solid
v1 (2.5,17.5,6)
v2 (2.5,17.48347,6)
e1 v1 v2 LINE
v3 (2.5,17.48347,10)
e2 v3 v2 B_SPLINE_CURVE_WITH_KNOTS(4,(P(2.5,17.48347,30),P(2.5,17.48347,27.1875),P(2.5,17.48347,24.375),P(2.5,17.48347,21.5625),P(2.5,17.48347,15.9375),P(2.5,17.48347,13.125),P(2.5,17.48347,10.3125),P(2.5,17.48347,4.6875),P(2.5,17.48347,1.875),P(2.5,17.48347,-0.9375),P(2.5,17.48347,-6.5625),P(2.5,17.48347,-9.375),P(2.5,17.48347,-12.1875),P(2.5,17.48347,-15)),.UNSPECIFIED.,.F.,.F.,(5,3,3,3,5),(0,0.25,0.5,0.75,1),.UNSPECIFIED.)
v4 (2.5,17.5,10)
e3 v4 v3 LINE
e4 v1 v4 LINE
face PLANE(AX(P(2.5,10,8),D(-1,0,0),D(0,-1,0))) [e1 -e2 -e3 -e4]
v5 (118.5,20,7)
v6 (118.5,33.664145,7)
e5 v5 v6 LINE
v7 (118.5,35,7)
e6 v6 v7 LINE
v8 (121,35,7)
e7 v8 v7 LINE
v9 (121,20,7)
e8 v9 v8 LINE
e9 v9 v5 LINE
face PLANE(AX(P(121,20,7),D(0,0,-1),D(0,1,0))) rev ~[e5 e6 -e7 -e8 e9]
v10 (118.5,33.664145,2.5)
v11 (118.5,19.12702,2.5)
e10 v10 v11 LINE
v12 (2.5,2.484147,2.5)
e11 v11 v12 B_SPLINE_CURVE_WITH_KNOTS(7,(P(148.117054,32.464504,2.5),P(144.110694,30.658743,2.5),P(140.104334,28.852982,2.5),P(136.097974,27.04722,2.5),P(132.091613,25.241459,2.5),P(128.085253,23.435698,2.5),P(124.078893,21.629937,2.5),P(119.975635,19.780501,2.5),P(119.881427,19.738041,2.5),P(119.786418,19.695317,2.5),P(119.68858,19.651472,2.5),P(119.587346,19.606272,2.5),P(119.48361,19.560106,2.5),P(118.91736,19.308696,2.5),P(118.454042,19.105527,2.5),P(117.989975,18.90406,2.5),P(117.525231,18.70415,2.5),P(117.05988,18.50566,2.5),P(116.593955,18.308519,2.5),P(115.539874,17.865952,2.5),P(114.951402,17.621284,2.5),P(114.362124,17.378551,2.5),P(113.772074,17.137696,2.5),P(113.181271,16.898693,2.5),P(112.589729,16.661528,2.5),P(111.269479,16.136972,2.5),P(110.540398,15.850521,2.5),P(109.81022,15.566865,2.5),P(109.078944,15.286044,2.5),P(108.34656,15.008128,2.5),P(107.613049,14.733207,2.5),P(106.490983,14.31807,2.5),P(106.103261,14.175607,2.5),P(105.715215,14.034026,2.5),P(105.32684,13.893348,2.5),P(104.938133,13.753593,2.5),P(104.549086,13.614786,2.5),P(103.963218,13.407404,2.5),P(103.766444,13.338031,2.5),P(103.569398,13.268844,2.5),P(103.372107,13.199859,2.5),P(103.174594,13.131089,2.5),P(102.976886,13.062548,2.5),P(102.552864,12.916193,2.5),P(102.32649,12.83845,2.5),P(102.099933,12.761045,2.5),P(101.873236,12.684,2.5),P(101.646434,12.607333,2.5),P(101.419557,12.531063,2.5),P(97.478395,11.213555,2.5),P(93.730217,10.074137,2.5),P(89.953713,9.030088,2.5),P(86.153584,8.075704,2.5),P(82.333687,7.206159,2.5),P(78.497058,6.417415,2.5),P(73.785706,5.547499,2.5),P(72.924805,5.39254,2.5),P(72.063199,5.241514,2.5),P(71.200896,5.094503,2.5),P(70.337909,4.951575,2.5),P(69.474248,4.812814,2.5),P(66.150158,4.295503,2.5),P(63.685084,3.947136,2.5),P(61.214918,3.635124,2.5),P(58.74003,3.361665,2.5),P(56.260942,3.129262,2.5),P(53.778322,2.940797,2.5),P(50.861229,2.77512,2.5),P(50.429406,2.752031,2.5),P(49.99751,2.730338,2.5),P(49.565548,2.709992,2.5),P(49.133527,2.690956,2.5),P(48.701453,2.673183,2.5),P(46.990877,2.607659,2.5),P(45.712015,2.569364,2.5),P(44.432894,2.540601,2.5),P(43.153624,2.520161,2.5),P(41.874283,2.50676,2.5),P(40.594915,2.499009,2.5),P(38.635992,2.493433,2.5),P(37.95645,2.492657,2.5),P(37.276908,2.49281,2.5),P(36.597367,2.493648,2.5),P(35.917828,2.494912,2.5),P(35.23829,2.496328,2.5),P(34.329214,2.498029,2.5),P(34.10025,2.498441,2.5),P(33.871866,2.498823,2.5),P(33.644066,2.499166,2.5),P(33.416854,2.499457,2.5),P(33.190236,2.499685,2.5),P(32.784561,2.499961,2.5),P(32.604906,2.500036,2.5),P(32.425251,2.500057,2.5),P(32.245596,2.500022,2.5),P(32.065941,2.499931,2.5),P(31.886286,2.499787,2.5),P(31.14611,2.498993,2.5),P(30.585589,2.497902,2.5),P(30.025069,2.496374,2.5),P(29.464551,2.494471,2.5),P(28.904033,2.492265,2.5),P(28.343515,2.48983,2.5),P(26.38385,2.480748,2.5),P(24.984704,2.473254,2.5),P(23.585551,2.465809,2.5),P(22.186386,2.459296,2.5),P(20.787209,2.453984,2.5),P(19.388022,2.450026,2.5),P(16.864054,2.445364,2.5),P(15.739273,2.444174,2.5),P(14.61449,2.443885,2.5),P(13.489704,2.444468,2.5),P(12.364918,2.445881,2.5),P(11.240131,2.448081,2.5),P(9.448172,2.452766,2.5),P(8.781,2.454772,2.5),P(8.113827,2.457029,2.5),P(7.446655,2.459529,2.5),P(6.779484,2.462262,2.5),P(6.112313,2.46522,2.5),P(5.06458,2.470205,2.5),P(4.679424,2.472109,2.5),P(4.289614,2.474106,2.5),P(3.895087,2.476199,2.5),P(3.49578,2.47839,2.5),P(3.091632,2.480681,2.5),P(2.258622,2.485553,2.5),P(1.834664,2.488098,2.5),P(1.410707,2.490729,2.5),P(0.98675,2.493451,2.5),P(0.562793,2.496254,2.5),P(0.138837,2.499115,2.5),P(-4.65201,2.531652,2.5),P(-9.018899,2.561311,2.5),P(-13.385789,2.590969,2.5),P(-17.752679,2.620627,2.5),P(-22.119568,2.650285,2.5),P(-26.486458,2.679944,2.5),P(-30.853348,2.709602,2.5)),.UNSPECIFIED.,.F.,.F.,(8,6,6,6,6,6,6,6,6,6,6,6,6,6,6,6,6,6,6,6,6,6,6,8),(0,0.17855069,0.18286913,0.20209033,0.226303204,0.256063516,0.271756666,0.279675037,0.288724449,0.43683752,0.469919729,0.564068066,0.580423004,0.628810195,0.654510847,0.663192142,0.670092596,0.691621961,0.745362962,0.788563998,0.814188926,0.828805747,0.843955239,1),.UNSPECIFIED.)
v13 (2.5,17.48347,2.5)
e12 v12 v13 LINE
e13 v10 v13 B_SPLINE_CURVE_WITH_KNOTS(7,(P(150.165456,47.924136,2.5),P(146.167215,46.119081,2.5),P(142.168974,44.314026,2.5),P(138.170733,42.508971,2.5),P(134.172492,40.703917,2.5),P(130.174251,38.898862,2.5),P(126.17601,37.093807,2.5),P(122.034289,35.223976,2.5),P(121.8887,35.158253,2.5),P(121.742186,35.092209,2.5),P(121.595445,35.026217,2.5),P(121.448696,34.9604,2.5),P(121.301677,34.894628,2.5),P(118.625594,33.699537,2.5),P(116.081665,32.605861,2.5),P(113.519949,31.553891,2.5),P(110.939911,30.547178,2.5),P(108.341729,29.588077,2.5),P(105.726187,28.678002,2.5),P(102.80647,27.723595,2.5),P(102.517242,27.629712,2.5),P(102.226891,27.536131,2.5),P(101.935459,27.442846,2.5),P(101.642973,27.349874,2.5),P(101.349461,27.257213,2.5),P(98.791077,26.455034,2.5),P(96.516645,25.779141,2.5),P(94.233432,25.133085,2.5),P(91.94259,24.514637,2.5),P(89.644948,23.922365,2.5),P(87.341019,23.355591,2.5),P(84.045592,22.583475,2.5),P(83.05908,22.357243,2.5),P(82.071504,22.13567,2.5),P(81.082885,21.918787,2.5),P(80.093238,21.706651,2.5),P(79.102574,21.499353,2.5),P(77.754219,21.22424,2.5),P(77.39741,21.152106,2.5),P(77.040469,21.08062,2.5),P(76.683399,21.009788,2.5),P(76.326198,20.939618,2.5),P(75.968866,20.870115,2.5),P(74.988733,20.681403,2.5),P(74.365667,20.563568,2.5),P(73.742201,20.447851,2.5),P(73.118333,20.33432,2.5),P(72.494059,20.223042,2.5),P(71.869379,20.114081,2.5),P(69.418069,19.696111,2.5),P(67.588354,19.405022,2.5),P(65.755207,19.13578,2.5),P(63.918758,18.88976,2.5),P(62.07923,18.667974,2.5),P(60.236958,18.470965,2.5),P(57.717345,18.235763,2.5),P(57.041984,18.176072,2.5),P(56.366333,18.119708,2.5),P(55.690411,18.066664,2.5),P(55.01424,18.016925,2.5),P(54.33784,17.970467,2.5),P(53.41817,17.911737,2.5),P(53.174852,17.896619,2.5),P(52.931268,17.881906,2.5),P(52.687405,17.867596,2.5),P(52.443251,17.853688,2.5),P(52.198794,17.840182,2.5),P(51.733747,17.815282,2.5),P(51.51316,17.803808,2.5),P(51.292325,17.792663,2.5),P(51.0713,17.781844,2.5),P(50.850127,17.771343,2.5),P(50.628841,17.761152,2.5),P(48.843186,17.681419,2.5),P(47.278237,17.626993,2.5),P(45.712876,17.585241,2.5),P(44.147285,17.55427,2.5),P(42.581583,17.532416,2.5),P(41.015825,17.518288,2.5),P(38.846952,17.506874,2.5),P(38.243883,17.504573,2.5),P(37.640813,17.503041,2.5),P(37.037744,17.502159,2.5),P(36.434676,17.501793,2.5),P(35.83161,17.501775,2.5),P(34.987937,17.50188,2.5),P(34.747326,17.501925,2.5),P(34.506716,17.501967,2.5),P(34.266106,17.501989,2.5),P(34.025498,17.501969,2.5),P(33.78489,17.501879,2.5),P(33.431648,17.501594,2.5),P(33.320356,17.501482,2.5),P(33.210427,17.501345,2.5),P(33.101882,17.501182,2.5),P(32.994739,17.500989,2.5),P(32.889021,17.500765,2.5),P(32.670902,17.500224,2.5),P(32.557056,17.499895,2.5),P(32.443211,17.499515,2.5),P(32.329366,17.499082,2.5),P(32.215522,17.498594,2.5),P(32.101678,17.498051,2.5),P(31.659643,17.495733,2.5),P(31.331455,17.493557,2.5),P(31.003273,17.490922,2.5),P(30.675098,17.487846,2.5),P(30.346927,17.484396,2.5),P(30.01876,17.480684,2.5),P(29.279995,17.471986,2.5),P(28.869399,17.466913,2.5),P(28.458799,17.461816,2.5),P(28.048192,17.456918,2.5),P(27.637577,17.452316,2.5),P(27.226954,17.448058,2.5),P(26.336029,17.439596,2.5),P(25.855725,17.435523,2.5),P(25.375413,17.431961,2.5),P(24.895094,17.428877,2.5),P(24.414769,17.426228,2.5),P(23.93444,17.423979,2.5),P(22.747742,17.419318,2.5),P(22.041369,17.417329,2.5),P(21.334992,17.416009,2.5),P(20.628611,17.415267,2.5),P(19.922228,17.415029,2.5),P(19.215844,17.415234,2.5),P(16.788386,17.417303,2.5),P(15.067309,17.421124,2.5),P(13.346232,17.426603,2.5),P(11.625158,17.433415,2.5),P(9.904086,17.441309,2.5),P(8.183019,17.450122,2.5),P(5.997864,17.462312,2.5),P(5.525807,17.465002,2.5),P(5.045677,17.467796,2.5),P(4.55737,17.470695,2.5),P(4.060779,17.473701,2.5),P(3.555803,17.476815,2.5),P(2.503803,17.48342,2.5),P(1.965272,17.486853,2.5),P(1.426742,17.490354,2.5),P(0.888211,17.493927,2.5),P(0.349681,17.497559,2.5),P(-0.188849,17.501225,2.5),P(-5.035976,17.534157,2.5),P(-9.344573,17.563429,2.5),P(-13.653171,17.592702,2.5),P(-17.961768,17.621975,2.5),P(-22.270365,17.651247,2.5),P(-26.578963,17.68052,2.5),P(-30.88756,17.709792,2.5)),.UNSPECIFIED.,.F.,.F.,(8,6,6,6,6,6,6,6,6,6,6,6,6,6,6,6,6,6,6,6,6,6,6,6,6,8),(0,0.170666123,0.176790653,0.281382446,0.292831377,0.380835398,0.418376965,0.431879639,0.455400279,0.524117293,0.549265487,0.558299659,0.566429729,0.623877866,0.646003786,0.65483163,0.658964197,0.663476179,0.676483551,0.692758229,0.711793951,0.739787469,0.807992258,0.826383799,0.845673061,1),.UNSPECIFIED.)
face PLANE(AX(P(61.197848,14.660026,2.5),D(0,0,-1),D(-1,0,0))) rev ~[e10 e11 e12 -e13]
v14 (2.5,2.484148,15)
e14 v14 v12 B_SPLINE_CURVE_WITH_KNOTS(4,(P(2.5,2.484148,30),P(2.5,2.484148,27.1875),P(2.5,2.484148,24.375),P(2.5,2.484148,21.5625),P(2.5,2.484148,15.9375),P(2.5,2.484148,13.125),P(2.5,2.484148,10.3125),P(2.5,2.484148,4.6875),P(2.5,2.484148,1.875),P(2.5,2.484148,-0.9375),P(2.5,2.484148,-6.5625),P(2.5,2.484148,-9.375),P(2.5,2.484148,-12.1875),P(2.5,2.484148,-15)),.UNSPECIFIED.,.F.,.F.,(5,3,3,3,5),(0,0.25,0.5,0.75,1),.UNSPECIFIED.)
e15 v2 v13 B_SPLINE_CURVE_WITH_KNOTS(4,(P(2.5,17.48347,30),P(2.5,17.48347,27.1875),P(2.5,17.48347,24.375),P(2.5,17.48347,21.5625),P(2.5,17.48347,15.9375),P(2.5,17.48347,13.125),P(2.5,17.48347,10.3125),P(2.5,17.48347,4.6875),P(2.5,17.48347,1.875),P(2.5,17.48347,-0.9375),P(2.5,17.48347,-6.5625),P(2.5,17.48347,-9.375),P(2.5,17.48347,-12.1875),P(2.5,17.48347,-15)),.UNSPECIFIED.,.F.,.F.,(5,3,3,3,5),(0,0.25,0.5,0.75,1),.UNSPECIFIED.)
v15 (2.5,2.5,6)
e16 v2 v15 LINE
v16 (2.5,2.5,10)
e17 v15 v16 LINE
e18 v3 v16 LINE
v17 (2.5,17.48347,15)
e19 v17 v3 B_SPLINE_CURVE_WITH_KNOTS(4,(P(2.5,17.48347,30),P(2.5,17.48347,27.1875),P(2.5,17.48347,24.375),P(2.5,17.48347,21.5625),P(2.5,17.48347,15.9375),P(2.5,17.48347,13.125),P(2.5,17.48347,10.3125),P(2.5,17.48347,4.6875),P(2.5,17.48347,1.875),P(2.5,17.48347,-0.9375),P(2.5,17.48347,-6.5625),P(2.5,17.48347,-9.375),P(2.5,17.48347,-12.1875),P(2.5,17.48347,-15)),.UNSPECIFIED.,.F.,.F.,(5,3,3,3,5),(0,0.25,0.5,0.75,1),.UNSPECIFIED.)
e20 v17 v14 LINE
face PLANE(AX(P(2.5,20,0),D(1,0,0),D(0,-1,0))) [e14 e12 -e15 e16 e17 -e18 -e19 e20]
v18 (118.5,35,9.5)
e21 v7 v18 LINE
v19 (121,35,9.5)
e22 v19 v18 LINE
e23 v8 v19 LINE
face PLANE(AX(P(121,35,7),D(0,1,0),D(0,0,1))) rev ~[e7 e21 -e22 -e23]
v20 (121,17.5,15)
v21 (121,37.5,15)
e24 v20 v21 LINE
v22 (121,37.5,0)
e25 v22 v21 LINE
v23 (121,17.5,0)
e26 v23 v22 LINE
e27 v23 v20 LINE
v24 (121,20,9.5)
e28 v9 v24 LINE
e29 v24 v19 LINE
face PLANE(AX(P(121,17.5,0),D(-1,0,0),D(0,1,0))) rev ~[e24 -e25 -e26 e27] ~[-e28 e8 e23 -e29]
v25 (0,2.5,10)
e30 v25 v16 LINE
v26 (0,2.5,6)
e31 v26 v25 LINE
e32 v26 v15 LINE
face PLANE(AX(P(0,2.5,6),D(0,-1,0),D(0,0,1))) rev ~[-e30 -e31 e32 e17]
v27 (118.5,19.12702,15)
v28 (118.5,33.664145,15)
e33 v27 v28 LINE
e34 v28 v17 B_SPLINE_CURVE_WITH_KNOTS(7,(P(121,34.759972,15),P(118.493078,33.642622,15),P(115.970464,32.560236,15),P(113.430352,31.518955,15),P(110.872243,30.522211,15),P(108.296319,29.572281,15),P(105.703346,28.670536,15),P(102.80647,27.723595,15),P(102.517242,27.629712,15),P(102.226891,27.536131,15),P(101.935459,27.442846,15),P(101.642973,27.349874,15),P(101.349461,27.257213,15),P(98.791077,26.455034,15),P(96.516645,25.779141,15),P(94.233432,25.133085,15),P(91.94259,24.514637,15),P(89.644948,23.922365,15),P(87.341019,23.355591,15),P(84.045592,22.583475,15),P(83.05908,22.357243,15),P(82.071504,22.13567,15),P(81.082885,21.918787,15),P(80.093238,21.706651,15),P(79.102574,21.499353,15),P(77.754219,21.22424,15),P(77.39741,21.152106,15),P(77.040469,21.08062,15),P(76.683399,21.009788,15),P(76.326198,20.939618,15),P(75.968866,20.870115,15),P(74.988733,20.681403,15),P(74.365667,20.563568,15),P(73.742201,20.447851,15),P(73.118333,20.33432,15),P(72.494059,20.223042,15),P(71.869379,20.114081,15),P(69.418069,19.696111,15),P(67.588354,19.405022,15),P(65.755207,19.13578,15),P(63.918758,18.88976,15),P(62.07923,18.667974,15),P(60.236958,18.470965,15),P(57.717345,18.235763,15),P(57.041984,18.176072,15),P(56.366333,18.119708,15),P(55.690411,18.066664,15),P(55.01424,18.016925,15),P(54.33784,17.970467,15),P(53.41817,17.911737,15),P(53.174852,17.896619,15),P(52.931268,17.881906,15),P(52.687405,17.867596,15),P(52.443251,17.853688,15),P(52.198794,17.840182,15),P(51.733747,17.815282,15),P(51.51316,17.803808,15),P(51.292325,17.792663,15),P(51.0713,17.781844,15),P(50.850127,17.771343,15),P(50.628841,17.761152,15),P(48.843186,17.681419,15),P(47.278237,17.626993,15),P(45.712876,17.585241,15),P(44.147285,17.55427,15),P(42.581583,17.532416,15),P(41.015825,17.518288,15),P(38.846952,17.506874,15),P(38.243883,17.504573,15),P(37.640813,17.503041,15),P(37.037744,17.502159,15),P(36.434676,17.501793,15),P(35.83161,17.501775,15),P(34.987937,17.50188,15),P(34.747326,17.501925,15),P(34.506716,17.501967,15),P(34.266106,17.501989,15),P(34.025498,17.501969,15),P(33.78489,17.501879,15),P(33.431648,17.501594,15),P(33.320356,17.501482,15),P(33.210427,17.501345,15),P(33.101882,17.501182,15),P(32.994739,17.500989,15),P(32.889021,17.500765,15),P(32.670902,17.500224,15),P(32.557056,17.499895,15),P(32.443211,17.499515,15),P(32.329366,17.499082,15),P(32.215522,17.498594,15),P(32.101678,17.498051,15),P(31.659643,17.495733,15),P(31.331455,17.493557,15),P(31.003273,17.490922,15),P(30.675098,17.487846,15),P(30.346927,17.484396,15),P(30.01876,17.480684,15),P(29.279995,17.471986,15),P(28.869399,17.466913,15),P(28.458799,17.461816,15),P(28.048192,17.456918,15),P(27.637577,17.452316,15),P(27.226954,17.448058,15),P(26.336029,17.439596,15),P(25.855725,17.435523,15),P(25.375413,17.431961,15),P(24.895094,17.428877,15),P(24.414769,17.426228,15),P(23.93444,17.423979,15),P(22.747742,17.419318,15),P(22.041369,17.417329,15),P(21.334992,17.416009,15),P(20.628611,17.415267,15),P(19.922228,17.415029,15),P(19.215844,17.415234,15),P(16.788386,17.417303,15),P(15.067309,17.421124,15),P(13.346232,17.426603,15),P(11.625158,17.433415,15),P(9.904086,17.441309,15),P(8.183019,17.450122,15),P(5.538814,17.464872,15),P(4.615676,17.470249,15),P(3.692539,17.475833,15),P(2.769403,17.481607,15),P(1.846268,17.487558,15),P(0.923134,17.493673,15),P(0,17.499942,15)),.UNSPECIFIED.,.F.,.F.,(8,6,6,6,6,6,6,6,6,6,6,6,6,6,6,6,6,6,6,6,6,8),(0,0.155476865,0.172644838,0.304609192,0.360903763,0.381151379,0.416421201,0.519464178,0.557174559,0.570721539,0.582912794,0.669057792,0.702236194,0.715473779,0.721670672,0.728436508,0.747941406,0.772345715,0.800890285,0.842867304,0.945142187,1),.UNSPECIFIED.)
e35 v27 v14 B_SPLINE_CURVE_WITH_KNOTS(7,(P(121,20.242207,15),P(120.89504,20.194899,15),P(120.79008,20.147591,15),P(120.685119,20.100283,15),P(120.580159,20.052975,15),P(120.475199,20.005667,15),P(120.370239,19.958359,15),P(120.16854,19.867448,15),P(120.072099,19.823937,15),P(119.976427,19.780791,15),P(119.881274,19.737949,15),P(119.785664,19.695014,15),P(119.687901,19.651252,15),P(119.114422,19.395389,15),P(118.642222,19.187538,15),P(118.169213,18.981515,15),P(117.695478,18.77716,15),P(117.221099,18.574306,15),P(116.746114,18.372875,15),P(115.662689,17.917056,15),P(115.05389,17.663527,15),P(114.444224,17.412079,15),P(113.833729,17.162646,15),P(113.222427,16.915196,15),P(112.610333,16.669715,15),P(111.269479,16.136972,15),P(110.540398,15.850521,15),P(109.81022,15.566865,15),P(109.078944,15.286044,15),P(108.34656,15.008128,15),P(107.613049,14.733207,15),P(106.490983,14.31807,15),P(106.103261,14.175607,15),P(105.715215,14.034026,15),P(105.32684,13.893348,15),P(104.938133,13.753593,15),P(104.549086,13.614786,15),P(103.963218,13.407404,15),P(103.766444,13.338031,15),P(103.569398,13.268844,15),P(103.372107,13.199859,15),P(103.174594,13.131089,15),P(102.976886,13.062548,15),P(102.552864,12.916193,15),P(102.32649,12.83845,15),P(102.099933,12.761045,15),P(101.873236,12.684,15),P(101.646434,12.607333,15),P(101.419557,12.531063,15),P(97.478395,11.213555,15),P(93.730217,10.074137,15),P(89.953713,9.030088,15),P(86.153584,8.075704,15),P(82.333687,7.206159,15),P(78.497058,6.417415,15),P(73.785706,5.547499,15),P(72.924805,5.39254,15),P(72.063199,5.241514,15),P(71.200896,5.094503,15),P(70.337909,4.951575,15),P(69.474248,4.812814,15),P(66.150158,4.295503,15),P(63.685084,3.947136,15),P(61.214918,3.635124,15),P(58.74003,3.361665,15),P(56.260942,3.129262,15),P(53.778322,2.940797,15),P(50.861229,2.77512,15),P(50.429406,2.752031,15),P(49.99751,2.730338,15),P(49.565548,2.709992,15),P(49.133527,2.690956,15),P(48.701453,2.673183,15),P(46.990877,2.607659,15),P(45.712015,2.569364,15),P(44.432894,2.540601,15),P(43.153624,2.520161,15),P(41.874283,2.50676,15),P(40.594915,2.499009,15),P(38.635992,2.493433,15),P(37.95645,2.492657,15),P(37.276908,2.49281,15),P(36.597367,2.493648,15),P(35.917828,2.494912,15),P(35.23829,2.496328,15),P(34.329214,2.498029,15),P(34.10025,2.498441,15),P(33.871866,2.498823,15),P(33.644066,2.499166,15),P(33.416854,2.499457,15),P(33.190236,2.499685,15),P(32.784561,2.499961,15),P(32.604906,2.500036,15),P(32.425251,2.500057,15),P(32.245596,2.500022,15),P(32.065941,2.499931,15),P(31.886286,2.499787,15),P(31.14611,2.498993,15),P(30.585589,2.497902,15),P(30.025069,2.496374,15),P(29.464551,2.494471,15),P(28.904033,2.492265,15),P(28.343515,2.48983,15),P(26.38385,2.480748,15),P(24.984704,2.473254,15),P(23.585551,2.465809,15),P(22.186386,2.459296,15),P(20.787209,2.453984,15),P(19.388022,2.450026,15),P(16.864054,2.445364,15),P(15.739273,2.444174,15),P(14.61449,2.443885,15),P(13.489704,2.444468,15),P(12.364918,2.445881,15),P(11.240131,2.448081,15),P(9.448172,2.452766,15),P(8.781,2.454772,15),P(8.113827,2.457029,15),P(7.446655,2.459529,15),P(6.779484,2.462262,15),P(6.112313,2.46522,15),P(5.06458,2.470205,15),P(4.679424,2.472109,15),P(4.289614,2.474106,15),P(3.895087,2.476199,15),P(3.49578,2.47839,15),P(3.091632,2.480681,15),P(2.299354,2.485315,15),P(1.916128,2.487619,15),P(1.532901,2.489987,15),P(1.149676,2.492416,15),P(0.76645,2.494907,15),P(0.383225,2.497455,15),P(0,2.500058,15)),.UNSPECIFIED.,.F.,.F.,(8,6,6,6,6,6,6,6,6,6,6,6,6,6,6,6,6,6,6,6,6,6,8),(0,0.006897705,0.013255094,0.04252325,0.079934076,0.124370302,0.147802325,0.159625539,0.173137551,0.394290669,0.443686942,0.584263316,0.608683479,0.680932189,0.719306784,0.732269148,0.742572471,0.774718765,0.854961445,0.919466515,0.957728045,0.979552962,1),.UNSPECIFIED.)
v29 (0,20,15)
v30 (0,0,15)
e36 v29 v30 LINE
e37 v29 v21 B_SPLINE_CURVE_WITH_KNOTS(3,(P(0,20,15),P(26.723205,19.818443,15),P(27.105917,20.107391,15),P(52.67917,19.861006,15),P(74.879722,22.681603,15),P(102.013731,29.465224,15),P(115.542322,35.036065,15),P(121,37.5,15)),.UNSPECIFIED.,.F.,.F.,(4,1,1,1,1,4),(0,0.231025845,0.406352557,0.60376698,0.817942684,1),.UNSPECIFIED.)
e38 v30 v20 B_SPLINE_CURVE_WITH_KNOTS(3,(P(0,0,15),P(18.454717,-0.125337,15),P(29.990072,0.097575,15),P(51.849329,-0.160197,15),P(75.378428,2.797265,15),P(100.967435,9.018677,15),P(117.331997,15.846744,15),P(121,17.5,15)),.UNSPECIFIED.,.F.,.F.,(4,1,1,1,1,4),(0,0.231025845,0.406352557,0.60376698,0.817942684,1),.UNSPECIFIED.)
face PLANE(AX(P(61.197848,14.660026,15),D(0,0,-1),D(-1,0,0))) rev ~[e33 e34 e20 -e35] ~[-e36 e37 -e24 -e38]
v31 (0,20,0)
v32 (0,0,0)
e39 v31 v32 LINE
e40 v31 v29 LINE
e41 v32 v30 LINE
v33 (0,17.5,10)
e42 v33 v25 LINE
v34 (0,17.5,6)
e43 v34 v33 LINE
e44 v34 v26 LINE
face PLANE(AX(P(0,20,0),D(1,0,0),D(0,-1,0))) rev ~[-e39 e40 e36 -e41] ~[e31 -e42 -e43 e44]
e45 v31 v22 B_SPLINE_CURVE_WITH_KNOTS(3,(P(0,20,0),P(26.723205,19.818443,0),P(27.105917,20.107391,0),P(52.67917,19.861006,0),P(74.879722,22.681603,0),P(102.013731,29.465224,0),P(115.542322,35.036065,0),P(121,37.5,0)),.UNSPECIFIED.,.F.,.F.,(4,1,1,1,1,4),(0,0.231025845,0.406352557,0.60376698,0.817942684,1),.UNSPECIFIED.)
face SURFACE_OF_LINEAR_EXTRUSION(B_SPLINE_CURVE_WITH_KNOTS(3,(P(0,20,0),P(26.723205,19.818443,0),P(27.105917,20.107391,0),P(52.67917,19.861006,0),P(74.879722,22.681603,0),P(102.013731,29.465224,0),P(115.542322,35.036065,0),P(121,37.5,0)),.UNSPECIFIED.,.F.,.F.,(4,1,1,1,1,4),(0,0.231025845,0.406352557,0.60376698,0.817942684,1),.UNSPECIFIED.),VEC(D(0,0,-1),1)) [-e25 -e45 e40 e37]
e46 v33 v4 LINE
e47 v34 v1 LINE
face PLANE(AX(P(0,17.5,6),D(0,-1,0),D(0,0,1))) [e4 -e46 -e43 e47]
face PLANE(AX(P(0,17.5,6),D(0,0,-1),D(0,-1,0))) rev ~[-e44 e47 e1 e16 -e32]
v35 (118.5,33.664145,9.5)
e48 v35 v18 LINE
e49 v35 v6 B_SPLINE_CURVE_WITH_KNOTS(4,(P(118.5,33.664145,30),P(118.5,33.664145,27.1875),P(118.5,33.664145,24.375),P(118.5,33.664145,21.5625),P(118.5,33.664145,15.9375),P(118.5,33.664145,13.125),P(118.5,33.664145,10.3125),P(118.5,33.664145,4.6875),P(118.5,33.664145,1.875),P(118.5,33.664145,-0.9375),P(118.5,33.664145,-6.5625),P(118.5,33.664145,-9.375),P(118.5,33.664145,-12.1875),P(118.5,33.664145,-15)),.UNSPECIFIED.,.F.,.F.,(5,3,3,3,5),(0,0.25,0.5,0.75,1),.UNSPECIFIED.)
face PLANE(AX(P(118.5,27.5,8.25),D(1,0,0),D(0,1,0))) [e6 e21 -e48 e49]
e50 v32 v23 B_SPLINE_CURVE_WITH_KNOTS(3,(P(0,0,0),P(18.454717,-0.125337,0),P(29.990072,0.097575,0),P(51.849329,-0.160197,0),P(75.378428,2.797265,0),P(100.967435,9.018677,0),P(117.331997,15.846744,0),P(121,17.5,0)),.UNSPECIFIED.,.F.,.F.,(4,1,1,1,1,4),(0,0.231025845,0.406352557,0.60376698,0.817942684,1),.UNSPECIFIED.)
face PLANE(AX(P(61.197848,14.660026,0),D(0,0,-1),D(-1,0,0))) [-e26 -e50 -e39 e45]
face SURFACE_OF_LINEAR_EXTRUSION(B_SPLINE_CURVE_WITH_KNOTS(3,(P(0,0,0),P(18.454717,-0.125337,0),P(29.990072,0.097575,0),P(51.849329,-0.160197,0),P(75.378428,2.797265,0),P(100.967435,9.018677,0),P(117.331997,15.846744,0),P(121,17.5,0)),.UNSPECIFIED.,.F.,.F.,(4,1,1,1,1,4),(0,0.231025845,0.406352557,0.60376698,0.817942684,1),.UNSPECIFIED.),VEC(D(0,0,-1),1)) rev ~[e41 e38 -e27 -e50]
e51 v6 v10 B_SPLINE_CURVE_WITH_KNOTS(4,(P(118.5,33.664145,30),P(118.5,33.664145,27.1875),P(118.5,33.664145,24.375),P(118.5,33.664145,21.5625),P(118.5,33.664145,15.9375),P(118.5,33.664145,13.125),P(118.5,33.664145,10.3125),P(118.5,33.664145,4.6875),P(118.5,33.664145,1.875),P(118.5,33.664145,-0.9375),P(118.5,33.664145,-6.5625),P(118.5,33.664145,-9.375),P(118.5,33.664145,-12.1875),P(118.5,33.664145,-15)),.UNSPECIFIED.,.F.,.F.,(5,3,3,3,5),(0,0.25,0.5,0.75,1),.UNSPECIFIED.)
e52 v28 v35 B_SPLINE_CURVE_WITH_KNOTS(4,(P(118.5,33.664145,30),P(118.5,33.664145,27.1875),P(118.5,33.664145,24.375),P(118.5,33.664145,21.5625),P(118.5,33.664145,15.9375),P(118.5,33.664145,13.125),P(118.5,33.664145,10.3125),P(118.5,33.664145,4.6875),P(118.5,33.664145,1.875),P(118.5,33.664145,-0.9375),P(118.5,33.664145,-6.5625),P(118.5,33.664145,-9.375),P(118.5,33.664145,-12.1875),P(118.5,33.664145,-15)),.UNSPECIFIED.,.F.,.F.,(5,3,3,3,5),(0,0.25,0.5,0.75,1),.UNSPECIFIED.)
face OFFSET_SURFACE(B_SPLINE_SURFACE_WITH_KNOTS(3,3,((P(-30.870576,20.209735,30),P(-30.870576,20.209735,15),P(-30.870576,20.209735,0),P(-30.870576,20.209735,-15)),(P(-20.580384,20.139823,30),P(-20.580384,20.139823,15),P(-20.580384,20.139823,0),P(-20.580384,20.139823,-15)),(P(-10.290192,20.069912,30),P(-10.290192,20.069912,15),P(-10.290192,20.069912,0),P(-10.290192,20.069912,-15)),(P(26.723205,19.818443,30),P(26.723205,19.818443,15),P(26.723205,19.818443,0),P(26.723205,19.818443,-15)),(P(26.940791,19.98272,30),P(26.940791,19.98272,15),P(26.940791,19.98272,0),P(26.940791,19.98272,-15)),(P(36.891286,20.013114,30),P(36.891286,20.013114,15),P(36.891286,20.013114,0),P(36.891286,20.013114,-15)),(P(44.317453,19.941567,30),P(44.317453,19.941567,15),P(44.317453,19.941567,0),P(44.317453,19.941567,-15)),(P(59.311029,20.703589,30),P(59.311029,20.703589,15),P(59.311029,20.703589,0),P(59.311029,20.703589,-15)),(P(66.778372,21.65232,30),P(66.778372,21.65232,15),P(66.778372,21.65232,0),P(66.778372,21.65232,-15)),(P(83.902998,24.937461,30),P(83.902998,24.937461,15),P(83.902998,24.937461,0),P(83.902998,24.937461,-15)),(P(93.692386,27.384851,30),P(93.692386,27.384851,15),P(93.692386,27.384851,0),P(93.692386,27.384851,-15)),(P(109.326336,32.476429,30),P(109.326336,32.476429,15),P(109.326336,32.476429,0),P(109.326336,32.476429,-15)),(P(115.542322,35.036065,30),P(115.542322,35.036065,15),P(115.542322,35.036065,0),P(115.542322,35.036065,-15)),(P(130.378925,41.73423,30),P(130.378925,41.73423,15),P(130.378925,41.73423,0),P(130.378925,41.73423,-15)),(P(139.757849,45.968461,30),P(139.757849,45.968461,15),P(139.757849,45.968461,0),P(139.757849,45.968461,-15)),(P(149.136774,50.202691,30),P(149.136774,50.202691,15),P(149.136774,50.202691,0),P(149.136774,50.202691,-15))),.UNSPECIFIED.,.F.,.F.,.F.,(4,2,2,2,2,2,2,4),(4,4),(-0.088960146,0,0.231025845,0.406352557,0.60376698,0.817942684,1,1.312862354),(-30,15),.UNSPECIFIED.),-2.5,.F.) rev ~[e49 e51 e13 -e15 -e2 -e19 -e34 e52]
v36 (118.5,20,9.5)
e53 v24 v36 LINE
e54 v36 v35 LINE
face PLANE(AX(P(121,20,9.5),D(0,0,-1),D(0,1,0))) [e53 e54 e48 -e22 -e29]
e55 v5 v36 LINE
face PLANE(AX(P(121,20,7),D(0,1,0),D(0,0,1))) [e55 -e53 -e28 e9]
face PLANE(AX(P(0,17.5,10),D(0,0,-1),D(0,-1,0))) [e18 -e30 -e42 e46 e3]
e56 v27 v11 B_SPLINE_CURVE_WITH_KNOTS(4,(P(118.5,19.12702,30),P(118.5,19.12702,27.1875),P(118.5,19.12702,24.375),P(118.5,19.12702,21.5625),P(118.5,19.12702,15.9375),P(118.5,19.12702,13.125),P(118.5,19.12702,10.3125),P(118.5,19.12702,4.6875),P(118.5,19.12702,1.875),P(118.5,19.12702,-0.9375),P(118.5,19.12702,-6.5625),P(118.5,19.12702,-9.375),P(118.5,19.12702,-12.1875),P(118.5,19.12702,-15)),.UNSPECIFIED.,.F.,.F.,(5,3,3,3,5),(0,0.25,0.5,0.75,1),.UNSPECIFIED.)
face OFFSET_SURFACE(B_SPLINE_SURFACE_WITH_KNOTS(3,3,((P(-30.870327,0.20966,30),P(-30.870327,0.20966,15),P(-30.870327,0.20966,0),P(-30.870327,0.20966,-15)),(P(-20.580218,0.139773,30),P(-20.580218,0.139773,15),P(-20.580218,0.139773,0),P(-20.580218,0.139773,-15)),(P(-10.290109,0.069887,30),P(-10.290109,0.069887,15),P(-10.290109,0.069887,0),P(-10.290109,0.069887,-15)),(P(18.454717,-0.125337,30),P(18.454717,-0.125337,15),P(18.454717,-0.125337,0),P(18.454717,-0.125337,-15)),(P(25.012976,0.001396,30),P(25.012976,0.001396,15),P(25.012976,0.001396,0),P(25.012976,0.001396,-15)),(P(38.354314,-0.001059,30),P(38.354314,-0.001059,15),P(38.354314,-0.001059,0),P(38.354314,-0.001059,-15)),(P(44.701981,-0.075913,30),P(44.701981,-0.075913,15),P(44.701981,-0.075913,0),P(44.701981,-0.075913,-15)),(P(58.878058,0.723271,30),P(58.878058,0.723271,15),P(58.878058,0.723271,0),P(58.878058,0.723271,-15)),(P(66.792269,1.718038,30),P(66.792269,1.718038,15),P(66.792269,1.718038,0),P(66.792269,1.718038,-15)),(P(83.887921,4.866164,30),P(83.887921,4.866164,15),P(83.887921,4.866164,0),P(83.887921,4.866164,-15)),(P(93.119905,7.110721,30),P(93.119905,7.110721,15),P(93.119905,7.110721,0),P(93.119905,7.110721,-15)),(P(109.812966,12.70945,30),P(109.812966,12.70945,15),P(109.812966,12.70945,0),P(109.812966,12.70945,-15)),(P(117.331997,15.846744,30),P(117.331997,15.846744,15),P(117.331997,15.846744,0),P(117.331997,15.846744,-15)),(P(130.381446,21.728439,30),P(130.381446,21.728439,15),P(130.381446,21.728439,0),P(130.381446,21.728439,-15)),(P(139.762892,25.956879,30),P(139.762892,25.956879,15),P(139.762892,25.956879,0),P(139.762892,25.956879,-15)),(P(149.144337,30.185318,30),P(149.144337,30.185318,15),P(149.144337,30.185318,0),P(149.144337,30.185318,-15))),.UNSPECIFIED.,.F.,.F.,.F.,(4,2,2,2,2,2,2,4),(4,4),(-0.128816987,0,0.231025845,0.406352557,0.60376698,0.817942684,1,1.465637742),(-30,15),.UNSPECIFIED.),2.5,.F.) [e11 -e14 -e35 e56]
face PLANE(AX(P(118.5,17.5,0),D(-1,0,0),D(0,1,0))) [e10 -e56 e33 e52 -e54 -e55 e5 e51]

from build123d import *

# Parameters (mm, degrees)
F1_DEPTH = 15
F2_T     = -2.5
F3_W     = 15
F3_H     = 4
F4_DEPTH = 2.5
F5_W     = 15
F5_H     = 2.5
F6_DEPTH = 2.5


with BuildPart() as f1:
    # F0 (on Top) → F1 (new body)
    with BuildSketch(Plane.XY):
        with BuildLine():
            add(Edge.make_bspline(
                [(0, 20), (26.7232054333, 19.8184425013), (27.1059169992, 20.1073908233), (52.679170319, 19.8610060675), (74.879722297, 22.6816028209), (102.0137306283, 29.4652239797), (115.5423223972, 35.0360646844), (121, 37.5)],
                knots=[0, 0, 0, 0, 0.2310258447, 0.4063525565, 0.6037669796, 0.8179426842, 1, 1, 1, 1], degree=3))
            Line((0, 20), (0, 0))
            add(Edge.make_bspline(
                [(0, 0), (18.4547173064, -0.1253374525), (29.9900721086, 0.0975745066), (51.8493286736, -0.1601969618), (75.3784279955, 2.7972650003), (100.9674350203, 9.0186773186), (117.3319965601, 15.8467441797), (121, 17.5)],
                knots=[0, 0, 0, 0, 0.2310258447, 0.4063525565, 0.6037669796, 0.8179426842, 1, 1, 1, 1], degree=3))
            Line((121, 17.5), (121, 37.5))
        make_face()
    extrude(amount=F1_DEPTH)

    # F2
    f2_openings = [f1.faces().sort_by_distance(p)[0] for p in [
        (60.510015, 13.844653, 15),
    ]]
    offset(amount=F2_T, openings=f2_openings, kind=Kind.INTERSECTION)

    # F3 (on face) → F4 (cut, through all)
    with BuildSketch(Plane(origin=(0, 0, 0), x_dir=(0, -1, 0), z_dir=(-1, 0, 0))):
        with Locations((-10, 8)):
            Rectangle(F3_W, F3_H)
    extrude(amount=-F4_DEPTH, mode=Mode.SUBTRACT)

    # F5 (on face) → F6 (cut, through all)
    with BuildSketch(Plane.YZ.offset(121)):
        with Locations((27.5, 8.25)):
            Rectangle(F5_W, F5_H)
    extrude(amount=-F6_DEPTH, mode=Mode.SUBTRACT)


solid = f1.part
